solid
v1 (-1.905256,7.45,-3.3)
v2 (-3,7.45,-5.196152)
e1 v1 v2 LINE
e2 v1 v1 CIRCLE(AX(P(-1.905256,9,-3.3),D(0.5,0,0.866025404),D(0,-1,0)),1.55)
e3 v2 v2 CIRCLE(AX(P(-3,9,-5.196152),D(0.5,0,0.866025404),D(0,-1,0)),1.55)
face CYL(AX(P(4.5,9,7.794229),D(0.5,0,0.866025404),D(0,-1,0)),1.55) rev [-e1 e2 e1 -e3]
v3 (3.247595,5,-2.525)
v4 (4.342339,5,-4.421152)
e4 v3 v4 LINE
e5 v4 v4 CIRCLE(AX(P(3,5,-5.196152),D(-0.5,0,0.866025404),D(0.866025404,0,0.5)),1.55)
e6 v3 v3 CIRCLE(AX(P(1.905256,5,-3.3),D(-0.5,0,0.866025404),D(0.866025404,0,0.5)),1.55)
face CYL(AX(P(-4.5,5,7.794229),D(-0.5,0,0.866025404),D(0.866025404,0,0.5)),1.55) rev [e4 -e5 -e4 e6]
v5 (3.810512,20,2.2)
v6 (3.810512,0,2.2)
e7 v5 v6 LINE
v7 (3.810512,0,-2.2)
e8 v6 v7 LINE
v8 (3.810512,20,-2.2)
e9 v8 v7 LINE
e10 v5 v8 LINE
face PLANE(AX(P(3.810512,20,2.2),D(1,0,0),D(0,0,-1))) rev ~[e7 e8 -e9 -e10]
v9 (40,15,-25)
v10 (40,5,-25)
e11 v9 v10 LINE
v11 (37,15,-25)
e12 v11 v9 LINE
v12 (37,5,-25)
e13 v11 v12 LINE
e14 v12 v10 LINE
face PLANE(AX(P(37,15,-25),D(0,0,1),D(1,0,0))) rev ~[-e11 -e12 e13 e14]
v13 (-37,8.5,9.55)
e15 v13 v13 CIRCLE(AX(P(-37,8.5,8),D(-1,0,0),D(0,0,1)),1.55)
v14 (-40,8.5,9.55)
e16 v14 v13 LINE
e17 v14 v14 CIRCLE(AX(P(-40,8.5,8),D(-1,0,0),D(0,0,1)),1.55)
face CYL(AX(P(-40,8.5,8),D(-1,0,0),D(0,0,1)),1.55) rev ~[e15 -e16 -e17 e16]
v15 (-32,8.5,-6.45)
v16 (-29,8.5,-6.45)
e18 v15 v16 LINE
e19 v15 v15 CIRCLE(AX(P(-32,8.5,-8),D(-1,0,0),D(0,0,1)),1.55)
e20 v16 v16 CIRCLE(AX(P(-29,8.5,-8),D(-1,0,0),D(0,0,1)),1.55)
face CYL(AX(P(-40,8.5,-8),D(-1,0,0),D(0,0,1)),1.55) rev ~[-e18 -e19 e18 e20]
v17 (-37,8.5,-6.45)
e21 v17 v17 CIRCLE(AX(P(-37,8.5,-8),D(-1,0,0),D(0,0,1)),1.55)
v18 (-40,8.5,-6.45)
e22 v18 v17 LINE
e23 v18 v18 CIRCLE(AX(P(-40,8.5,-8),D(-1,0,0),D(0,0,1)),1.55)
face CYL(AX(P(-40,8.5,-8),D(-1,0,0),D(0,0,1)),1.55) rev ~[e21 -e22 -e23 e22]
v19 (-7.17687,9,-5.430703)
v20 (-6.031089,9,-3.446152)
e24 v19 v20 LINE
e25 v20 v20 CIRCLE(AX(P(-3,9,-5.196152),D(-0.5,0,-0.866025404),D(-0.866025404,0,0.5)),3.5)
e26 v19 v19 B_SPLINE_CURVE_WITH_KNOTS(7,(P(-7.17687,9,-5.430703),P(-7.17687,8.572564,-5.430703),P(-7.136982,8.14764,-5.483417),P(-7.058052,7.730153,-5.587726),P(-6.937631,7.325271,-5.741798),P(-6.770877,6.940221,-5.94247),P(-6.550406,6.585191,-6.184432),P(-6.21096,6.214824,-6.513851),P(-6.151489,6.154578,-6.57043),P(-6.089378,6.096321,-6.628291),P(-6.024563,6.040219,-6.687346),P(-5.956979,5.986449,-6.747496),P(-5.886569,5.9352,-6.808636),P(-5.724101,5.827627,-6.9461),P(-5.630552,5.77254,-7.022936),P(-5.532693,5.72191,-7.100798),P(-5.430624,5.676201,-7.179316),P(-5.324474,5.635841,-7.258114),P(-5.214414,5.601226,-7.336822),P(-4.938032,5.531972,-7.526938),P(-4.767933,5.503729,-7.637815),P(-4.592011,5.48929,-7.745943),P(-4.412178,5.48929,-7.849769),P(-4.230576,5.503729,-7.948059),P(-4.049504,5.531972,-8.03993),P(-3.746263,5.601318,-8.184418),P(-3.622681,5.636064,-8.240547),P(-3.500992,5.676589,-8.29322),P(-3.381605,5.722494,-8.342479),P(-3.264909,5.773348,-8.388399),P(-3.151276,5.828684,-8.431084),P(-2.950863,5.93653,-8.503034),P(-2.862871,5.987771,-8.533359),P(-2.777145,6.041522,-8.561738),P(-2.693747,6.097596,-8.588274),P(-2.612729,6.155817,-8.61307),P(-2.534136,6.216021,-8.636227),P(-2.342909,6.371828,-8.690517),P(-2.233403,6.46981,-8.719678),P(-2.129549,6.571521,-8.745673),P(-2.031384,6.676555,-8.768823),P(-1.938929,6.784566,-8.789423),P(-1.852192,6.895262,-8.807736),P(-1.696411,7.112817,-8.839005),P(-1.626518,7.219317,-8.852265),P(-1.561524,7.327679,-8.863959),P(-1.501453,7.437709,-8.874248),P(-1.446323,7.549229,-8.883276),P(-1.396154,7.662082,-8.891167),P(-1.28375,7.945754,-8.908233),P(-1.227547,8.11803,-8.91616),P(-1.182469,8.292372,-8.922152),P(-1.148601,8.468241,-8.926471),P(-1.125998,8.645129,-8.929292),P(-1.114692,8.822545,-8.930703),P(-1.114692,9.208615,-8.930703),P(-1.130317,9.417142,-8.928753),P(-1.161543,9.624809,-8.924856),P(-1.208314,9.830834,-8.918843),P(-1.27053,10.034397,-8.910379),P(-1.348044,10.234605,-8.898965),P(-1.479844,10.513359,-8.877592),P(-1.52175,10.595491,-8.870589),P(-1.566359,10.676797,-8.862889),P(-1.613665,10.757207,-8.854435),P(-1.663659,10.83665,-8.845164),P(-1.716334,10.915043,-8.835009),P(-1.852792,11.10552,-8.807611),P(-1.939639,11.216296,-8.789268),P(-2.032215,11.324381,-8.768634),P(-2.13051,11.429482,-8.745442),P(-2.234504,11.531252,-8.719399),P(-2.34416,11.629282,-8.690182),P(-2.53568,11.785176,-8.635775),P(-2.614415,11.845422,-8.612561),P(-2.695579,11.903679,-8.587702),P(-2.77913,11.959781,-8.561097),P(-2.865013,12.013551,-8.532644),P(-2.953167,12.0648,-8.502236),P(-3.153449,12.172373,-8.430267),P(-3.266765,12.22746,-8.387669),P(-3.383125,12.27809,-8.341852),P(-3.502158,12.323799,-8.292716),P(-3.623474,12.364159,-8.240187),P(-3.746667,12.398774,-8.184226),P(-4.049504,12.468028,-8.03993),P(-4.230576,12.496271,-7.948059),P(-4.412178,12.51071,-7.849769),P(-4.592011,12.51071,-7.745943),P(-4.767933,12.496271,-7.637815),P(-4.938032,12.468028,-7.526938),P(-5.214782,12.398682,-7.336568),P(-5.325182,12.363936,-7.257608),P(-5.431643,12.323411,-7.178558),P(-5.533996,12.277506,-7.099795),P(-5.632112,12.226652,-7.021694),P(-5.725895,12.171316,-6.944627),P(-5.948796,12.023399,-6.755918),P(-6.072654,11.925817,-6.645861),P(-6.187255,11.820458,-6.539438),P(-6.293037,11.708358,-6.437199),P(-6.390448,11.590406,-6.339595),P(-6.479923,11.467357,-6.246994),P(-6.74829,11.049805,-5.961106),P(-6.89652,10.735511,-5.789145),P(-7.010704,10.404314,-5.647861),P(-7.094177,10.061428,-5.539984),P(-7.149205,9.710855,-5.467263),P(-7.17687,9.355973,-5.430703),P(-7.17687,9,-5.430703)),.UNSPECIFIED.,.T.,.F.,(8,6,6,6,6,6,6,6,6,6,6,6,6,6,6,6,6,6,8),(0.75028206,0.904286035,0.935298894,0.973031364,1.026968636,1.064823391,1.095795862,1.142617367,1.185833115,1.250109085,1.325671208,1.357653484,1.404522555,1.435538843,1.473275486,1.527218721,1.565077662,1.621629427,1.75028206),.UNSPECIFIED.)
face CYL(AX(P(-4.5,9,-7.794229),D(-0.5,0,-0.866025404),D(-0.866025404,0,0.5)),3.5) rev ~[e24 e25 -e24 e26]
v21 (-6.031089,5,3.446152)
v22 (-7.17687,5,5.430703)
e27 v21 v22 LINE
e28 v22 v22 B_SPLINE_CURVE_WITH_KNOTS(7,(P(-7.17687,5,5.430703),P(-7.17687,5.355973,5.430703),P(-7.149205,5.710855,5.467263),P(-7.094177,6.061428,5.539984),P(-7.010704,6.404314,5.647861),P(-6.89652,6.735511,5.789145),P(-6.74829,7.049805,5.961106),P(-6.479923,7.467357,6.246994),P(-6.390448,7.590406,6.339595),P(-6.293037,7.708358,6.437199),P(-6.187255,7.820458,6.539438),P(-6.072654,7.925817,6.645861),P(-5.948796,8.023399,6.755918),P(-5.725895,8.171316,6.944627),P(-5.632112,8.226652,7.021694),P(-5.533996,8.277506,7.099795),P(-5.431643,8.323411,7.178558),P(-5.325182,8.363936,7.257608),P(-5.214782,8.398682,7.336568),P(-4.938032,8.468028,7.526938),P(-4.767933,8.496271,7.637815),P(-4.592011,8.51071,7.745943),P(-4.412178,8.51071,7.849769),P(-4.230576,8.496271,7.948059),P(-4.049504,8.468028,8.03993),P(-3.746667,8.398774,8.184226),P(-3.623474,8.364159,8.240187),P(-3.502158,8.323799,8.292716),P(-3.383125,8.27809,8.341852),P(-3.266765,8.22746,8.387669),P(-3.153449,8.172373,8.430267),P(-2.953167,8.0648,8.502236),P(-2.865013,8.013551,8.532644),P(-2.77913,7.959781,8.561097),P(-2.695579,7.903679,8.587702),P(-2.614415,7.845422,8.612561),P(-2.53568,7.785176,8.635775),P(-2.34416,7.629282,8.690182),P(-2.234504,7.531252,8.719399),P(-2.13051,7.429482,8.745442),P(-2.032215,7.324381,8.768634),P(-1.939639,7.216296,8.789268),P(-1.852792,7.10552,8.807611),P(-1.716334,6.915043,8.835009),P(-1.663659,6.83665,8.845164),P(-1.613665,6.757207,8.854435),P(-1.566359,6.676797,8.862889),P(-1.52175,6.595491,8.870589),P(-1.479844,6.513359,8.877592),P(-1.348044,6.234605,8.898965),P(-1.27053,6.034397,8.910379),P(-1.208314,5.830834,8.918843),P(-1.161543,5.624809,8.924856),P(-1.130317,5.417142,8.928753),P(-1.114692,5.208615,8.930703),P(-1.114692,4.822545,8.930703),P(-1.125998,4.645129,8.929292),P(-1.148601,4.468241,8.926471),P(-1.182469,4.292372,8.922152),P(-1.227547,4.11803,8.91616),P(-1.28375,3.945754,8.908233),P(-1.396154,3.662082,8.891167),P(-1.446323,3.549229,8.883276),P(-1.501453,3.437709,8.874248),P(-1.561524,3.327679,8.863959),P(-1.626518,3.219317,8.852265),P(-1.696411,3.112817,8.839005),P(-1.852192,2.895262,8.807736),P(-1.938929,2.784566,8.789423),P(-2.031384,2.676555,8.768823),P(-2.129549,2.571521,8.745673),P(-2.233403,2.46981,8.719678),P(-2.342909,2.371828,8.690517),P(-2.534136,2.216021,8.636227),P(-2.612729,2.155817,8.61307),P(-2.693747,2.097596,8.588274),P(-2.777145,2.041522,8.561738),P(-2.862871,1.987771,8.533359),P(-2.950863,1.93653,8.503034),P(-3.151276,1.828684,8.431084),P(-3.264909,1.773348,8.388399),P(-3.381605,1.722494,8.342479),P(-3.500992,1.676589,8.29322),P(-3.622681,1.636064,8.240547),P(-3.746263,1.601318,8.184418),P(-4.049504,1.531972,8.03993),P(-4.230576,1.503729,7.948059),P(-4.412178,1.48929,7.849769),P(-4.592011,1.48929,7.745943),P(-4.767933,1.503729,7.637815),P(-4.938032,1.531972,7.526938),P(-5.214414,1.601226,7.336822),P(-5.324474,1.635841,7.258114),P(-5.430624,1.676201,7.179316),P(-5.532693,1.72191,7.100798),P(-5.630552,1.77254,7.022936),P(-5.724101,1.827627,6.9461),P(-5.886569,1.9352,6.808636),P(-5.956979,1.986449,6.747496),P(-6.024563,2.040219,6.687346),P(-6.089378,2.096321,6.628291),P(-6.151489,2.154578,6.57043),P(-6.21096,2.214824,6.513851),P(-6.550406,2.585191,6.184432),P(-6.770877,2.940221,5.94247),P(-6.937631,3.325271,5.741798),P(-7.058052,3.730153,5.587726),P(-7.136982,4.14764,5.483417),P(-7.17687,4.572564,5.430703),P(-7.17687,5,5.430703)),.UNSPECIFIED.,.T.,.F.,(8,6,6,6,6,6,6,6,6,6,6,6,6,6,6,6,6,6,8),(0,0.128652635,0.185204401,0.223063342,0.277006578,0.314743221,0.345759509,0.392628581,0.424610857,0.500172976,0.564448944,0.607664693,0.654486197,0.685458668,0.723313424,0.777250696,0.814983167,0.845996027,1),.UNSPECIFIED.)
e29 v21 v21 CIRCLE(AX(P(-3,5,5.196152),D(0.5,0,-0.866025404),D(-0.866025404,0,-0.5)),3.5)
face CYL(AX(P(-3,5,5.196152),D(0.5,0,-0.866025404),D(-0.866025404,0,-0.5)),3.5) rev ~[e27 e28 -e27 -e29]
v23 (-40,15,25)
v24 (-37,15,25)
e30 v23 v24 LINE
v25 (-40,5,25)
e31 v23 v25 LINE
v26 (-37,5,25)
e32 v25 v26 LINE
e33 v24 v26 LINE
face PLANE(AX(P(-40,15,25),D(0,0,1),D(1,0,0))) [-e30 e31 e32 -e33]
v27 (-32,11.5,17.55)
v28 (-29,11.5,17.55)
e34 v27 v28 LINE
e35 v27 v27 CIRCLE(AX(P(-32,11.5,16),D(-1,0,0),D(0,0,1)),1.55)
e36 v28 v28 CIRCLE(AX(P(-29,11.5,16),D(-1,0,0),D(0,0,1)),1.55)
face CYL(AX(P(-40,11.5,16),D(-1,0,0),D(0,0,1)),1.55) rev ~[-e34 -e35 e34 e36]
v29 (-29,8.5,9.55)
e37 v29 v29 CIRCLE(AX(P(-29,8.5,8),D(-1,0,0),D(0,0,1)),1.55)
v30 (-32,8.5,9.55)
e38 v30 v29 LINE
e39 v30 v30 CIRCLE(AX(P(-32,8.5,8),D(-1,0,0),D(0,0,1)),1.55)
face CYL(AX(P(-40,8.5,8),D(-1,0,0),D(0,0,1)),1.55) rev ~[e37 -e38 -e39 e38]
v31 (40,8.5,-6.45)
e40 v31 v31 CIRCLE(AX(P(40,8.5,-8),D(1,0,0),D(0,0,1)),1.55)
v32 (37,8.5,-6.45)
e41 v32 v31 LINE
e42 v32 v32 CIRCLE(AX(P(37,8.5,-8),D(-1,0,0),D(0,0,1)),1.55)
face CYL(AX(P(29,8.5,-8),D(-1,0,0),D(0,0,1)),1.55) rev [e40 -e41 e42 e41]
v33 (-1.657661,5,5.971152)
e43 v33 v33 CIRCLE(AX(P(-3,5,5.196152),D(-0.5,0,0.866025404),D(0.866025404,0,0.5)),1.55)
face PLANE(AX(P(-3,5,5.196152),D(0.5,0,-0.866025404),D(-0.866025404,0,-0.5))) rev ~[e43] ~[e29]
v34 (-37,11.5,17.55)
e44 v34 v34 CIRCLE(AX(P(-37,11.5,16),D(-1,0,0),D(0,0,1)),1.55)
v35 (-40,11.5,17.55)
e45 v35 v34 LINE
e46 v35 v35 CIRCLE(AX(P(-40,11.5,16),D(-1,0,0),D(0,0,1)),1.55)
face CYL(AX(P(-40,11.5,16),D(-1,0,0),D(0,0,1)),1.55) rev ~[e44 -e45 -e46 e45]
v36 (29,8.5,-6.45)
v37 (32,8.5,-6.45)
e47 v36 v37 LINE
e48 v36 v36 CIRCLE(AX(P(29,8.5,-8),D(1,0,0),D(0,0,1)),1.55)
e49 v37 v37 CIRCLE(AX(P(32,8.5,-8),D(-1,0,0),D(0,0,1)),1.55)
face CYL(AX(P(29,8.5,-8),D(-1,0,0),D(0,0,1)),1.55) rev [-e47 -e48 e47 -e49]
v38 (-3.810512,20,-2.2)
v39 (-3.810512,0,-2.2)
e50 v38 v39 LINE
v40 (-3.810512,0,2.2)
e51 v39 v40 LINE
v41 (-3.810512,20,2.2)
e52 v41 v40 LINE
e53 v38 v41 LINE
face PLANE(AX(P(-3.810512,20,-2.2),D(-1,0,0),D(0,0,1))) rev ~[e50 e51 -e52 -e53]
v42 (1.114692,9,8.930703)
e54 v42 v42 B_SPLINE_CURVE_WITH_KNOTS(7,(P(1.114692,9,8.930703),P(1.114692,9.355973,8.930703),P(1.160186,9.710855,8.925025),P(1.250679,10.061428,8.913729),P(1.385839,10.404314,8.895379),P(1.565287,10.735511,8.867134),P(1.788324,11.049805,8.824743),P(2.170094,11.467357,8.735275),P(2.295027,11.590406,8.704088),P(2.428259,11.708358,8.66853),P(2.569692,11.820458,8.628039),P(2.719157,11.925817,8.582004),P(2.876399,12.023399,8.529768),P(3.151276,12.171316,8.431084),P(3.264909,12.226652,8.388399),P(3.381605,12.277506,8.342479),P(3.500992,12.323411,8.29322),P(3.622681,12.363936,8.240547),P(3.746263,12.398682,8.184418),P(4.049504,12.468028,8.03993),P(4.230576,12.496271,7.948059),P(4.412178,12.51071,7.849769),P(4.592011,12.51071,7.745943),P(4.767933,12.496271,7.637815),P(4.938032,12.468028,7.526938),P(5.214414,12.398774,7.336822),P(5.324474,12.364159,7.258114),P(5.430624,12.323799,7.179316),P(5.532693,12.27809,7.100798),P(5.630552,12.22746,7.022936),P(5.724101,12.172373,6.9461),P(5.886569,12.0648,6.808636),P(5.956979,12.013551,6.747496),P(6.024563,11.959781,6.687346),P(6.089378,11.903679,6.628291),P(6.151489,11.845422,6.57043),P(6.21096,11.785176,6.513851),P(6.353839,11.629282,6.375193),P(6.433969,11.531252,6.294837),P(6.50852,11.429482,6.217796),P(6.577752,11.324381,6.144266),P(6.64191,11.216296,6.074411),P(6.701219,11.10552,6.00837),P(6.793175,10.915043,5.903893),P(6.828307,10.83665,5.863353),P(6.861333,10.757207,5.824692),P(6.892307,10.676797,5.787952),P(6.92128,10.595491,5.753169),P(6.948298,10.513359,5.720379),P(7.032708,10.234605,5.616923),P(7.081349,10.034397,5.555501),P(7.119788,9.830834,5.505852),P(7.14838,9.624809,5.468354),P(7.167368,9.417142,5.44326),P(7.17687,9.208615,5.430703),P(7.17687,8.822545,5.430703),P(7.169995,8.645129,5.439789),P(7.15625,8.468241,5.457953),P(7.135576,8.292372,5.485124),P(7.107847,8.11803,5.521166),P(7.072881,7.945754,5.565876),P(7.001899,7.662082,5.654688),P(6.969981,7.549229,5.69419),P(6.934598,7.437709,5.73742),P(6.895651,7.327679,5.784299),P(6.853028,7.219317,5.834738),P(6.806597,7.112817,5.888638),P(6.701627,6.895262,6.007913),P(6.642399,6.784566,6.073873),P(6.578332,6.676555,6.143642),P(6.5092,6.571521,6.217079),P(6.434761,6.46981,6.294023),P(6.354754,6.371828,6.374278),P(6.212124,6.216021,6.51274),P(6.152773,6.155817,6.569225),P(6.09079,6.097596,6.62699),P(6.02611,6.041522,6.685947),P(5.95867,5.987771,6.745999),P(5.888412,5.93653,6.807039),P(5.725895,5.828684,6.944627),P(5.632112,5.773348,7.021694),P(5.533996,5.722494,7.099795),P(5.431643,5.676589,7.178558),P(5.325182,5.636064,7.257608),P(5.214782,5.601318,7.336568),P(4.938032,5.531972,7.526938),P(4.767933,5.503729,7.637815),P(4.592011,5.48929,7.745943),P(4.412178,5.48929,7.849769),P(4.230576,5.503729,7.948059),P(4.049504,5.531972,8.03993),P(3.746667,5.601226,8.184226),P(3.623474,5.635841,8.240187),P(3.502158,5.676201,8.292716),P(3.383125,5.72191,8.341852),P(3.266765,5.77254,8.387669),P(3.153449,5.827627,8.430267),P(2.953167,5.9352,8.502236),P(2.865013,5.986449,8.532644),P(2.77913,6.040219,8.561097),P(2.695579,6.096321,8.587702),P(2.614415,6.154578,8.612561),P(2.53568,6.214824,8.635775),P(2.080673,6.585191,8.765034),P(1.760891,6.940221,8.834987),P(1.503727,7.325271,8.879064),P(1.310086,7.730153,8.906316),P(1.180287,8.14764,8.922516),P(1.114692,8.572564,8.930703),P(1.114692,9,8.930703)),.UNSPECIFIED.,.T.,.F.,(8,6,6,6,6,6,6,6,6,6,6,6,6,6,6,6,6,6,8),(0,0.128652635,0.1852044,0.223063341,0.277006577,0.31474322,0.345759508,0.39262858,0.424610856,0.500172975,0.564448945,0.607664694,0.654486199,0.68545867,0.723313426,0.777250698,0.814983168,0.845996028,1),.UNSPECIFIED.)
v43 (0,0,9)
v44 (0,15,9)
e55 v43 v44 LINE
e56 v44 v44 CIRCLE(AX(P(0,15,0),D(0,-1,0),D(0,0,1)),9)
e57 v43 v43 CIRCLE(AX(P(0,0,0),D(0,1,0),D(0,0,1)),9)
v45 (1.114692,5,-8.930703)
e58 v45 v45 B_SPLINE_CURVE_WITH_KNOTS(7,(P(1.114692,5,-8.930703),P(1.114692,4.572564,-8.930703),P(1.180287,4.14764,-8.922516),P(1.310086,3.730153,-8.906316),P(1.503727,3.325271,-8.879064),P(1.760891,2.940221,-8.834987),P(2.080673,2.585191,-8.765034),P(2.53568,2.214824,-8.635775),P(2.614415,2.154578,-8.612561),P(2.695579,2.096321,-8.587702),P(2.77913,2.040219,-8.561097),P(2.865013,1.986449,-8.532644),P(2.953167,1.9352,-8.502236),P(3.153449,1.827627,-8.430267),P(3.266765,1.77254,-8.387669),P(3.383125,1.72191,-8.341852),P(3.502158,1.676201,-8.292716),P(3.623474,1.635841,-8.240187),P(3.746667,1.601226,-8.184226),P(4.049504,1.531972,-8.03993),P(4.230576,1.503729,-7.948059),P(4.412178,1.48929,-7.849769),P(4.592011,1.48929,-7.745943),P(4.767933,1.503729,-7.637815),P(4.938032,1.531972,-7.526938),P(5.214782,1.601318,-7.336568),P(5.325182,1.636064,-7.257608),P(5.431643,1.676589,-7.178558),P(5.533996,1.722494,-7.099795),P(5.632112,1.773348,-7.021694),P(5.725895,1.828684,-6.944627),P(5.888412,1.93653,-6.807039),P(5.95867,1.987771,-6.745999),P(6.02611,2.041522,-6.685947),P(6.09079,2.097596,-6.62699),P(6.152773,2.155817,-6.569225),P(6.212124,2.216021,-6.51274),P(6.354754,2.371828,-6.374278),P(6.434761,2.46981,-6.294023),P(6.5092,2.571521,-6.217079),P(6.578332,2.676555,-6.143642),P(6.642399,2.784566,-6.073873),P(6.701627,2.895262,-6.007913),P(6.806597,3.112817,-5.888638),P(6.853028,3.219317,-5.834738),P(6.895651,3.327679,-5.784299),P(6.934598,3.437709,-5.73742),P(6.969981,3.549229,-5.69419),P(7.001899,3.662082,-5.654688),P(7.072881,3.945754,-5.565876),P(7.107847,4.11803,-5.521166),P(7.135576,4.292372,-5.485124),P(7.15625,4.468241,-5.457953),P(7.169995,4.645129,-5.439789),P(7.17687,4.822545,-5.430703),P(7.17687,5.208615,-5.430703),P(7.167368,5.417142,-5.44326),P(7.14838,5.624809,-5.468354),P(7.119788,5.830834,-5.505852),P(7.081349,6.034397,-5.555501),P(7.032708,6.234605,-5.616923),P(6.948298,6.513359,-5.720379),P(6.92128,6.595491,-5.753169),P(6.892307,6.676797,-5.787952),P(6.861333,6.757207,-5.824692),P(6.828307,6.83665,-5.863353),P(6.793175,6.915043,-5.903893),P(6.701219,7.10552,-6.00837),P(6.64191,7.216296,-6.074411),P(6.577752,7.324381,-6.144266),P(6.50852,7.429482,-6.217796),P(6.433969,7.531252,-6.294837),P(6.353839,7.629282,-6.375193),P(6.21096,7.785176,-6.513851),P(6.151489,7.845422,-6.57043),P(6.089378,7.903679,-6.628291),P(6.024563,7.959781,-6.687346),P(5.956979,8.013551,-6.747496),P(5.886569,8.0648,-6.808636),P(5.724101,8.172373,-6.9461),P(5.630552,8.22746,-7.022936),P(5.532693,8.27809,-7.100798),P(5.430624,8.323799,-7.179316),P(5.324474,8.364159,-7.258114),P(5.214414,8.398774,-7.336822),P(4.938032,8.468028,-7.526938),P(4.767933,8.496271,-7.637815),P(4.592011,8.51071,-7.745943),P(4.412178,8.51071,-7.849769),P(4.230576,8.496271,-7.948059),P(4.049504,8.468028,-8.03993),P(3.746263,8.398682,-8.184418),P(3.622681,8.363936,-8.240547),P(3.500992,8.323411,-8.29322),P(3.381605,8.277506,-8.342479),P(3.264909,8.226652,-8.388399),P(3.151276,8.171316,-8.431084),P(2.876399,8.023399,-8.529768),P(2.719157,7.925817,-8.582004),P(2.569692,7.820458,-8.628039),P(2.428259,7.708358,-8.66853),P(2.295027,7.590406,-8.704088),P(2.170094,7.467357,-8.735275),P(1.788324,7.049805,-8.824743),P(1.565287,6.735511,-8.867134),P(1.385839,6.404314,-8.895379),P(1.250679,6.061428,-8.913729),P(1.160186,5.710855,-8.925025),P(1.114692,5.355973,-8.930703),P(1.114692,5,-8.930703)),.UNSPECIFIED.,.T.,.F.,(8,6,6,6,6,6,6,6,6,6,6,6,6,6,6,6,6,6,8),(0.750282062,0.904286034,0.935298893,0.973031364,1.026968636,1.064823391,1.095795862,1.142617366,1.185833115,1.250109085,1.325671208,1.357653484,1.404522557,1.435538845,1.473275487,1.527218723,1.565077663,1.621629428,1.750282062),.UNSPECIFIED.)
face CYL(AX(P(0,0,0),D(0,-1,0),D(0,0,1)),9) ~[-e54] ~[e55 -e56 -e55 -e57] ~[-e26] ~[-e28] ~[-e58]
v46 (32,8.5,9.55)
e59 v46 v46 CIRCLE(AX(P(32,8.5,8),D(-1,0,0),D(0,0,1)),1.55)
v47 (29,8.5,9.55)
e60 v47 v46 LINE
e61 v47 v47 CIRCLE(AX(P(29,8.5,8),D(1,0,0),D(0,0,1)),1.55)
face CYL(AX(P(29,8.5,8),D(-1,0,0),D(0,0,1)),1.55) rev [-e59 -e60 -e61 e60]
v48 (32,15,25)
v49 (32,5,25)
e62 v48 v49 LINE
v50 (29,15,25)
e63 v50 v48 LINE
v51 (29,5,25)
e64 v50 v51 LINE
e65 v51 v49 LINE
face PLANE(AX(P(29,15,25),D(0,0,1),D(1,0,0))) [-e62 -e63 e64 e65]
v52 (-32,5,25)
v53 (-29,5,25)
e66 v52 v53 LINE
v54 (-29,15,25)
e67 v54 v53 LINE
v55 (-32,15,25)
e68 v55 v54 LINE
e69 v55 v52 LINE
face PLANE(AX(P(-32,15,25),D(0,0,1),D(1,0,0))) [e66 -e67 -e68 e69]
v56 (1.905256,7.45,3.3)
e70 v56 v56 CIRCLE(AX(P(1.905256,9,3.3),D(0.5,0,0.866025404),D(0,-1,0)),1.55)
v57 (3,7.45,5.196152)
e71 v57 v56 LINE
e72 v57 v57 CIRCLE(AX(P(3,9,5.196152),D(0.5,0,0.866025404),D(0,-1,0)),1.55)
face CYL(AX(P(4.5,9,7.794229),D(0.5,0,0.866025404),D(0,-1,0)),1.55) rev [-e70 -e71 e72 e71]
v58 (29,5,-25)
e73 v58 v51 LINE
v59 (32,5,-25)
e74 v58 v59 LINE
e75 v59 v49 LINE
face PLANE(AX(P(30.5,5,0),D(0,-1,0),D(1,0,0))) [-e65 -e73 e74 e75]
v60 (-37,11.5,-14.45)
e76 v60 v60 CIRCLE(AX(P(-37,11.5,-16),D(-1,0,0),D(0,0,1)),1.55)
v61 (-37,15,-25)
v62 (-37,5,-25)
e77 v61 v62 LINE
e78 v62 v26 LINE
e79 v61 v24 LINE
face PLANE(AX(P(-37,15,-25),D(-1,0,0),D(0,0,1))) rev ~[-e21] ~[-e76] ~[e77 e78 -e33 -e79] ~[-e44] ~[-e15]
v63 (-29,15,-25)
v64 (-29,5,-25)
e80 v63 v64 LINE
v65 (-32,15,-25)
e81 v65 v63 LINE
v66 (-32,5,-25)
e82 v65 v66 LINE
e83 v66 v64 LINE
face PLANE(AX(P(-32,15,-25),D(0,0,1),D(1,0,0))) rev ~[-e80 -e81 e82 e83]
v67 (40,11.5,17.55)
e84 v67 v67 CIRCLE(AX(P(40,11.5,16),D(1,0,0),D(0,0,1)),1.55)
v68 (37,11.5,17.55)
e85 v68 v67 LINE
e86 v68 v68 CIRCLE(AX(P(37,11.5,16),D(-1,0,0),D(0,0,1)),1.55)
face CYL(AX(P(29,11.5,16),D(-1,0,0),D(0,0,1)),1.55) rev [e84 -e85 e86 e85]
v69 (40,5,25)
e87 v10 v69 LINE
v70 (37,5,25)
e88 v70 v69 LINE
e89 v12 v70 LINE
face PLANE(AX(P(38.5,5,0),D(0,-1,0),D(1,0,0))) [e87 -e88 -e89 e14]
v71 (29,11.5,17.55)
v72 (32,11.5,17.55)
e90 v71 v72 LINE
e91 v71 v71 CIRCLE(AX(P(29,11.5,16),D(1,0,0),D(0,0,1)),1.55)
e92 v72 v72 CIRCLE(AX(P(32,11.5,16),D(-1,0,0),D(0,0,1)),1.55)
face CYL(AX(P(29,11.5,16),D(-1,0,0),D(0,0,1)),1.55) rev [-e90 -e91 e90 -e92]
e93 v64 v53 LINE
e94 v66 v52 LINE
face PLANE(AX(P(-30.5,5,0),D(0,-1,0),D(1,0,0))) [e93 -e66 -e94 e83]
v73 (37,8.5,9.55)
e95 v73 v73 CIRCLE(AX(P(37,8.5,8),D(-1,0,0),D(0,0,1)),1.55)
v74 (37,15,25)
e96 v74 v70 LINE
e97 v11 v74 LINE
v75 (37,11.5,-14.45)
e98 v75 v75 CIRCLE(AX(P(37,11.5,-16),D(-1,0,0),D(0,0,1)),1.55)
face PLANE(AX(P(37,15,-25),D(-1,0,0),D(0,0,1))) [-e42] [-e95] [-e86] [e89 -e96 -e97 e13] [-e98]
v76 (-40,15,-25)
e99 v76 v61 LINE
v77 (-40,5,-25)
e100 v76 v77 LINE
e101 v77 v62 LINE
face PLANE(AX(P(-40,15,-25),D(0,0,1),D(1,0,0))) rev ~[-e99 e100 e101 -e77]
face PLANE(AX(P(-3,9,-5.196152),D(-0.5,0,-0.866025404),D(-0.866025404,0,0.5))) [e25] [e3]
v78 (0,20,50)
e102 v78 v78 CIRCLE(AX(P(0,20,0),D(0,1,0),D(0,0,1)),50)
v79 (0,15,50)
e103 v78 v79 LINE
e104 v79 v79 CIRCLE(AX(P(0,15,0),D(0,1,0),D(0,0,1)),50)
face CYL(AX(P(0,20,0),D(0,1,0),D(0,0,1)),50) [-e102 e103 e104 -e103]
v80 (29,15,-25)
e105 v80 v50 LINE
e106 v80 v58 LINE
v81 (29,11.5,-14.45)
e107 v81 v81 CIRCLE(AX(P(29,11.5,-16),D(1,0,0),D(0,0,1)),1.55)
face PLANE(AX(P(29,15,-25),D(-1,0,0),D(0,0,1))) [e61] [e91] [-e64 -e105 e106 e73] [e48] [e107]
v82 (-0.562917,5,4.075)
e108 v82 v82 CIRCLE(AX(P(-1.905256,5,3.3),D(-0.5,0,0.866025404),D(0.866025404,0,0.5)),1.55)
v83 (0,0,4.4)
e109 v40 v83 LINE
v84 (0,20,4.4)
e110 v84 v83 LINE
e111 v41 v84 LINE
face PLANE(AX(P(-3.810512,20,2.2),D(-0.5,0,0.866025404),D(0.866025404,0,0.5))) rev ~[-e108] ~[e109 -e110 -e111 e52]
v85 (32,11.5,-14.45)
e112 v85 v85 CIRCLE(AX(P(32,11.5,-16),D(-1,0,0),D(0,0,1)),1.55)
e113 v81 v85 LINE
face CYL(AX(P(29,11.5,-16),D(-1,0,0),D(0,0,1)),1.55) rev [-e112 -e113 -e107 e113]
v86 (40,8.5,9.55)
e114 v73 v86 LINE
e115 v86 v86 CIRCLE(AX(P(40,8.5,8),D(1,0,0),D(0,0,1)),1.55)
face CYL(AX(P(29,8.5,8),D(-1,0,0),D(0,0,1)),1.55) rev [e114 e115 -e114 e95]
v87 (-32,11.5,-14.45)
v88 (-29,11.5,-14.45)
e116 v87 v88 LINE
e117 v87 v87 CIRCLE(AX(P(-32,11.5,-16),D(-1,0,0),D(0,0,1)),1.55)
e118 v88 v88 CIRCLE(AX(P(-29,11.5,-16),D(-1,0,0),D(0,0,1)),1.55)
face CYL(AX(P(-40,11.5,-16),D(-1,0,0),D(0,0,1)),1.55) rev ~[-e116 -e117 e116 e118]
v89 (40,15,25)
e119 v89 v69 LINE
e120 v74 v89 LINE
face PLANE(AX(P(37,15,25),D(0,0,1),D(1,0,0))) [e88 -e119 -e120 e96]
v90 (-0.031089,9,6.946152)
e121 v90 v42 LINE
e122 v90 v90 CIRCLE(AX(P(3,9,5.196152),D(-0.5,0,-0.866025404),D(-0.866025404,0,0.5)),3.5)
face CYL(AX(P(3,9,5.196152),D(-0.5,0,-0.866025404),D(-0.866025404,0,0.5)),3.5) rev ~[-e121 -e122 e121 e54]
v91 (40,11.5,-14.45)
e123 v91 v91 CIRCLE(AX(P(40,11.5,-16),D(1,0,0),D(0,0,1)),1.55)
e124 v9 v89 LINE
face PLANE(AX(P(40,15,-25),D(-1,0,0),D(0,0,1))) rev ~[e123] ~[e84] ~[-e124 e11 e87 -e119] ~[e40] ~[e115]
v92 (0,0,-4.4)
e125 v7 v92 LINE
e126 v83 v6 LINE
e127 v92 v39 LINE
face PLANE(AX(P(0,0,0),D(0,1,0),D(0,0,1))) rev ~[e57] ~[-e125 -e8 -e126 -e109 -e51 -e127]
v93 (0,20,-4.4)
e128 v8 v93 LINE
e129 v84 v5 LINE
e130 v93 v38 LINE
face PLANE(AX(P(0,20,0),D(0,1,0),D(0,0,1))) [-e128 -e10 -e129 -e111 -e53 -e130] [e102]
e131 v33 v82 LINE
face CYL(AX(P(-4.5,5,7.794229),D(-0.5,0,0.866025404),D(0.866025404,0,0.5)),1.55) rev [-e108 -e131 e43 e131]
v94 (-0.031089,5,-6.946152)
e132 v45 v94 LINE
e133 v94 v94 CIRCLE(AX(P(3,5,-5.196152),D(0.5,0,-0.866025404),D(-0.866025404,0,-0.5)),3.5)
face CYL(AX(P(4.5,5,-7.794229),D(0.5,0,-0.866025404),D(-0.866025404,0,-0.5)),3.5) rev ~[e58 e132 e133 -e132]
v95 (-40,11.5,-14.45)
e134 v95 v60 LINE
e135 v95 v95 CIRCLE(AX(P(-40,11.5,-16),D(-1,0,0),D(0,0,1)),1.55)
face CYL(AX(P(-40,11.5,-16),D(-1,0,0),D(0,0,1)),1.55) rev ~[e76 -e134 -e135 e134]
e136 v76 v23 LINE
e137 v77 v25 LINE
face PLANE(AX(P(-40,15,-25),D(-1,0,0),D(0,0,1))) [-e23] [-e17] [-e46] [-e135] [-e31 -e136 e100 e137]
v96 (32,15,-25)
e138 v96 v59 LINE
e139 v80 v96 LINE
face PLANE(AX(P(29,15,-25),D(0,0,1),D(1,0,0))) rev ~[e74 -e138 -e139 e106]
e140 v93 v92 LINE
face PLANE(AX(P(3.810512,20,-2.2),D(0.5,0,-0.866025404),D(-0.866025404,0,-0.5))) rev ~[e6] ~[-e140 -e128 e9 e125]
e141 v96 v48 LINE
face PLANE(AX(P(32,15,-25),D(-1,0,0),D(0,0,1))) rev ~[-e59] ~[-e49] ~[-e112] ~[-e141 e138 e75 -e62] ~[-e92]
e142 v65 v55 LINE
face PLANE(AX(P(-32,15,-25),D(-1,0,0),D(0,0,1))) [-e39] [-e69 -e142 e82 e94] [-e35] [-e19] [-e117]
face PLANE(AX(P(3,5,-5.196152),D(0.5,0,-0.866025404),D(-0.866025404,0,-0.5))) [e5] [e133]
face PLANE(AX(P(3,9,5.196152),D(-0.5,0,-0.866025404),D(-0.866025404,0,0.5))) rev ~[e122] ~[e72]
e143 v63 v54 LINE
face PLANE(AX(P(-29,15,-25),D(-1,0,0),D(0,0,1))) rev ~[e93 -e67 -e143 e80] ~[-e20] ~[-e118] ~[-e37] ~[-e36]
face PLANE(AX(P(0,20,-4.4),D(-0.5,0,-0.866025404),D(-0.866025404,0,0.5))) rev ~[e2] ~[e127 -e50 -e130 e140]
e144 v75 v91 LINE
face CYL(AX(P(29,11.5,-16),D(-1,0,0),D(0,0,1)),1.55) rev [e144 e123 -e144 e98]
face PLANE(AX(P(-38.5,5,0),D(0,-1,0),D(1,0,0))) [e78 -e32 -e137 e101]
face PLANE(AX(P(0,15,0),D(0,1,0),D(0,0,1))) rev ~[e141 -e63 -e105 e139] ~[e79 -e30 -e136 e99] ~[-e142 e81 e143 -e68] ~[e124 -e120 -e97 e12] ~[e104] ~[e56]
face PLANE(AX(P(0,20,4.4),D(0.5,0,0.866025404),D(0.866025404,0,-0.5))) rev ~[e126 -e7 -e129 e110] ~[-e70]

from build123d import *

# Parameters (mm, degrees)
SKETCH2_R               = 9
BOSS_EXTRUDE1_DEPTH     = 20
CUT_EXTRUDE1_DEPTH      = 20
SKETCH4_R               = 50
SKETCH4_R_2             = 4.5
BOSS_EXTRUDE3_DEPTH     = 5
CUT_EXTRUDE2_DEPTH      = 9
CUT_EXTRUDE2_DEPTH_BACK = 9
SKETCH11_R              = 1.55
CUT_EXTRUDE9_DEPTH      = 9
CUT_EXTRUDE9_DEPTH_BACK = 9
SKETCH15_R              = 1.55
SKETCH16_W              = 3
SKETCH16_H              = 50
BOSS_EXTRUDE4_DEPTH     = 10
CUT_EXTRUDE10_REACH     = 106.881
SKETCH17_R              = 1.55
CUT_EXTRUDE11_START     = -11
SKETCH18_R              = 1.55
CUT_EXTRUDE11_DEPTH     = 11
CUT_EXTRUDE14_START     = 9
SKETCH19_R              = 3.5
CUT_EXTRUDE14_DEPTH     = 3
CUT_EXTRUDE15_START     = -6
SKETCH19_3_R            = 3.5
CUT_EXTRUDE15_DEPTH     = 3
CUT_EXTRUDE16_START     = 9
SKETCH20_R              = 3.5
CUT_EXTRUDE16_DEPTH     = 3
CUT_EXTRUDE17_START     = -6
SKETCH20_2_R            = 3.5
CUT_EXTRUDE17_DEPTH     = 3


with BuildPart() as part:
    # Sketch2 → Boss-Extrude1 (new body)
    with BuildSketch(Plane(origin=(0, 0, 0), x_dir=(1, 0, 0), z_dir=(0, 1, 0))):
        with Locations(Location((0, 0, 0), (0, 0, 270))):
            Circle(SKETCH2_R)
    extrude(amount=BOSS_EXTRUDE1_DEPTH)

    # Sketch3 → Cut-Extrude1 (cut)
    with BuildSketch(Plane(origin=(0, 20, 0), x_dir=(1, 0, 0), z_dir=(0, 1, 0))):
        Polygon((0, 4.4), (-3.810511777, 2.2), (-3.810511777, -2.2), (0, -4.4), (3.810511777, -2.2), (3.810511777, 2.2), align=None)
    extrude(amount=-CUT_EXTRUDE1_DEPTH, mode=Mode.SUBTRACT)

    # Sketch4 → Boss-Extrude3 (add)
    with BuildSketch(Plane(origin=(0, 20, 0), x_dir=(1, 0, 0), z_dir=(0, 1, 0))):
        with Locations(Location((0, 0, 0), (0, 0, 270))):
            Circle(SKETCH4_R)
        Circle(SKETCH4_R_2, mode=Mode.SUBTRACT)
    extrude(amount=-BOSS_EXTRUDE3_DEPTH)

    # Sketch11 → Cut-Extrude2 (cut, two sides: drawn at the far end of the back side and taken through both)
    with BuildSketch(Plane(origin=(0, 0, 0), x_dir=(-0.8660254037844387, 0, -0.49999999999999983), z_dir=(0.49999999999999983, 0, -0.8660254037844387)).offset(-CUT_EXTRUDE2_DEPTH_BACK)):
        with Locations(Location((0, 5, 0), (0, 0, 180))):
            Circle(SKETCH11_R)
    extrude(amount=CUT_EXTRUDE2_DEPTH + CUT_EXTRUDE2_DEPTH_BACK, mode=Mode.SUBTRACT)

    # Sketch15 → Cut-Extrude9 (cut, two sides: drawn at the far end of the back side and taken through both)
    with BuildSketch(Plane(origin=(0, 0, 0), x_dir=(-0.866025403784439, 0, 0.49999999999999944), z_dir=(-0.49999999999999944, 0, -0.866025403784439)).offset(-CUT_EXTRUDE9_DEPTH_BACK)):
        with Locations(Location((0, 9, 0), (0, 0, 270))):
            Circle(SKETCH15_R)
    extrude(amount=CUT_EXTRUDE9_DEPTH + CUT_EXTRUDE9_DEPTH_BACK, mode=Mode.SUBTRACT)

    # Sketch16 → Boss-Extrude4 (add)
    with BuildSketch(Plane.XZ.offset(-15)):
        with Locations((-30.5, 0)):
            Rectangle(SKETCH16_W, SKETCH16_H)
        with Locations((-38.5, 0)):
            Rectangle(SKETCH16_W, SKETCH16_H)
        with Locations((30.5, 0)):
            Rectangle(SKETCH16_W, SKETCH16_H)
        with Locations((38.5, 0)):
            Rectangle(SKETCH16_W, SKETCH16_H)
    extrude(amount=BOSS_EXTRUDE4_DEPTH)

    # Cut-Extrude10: up to this face of the body (flat: up to its plane)
    cut_extrude10_end = Plane(part.part.faces().sort_by_distance((-29, 10, 0))[0])
    # Sketch17 → Cut-Extrude10 (cut, up to the picked face)
    with BuildSketch(Plane.ZY.offset(40), mode=Mode.PRIVATE) as cut_extrude10_sk1:
        with Locations((-16, 11.5)):
            Circle(SKETCH17_R)
    cut_extrude10_tool1 = split(extrude(cut_extrude10_sk1.sketch, amount=-CUT_EXTRUDE10_REACH, mode=Mode.PRIVATE), bisect_by=cut_extrude10_end, keep=Keep.BOTH, mode=Mode.PRIVATE)
    # Sketch17 → Cut-Extrude10 (cut, up to the picked face)
    with BuildSketch(Plane.ZY.offset(40), mode=Mode.PRIVATE) as cut_extrude10_sk2:
        with Locations((-8, 8.5)):
            Circle(SKETCH17_R)
    cut_extrude10_tool2 = split(extrude(cut_extrude10_sk2.sketch, amount=-CUT_EXTRUDE10_REACH, mode=Mode.PRIVATE), bisect_by=cut_extrude10_end, keep=Keep.BOTH, mode=Mode.PRIVATE)
    # Sketch17 → Cut-Extrude10 (cut, up to the picked face)
    with BuildSketch(Plane.ZY.offset(40), mode=Mode.PRIVATE) as cut_extrude10_sk3:
        with Locations((8, 8.5)):
            Circle(SKETCH17_R)
    cut_extrude10_tool3 = split(extrude(cut_extrude10_sk3.sketch, amount=-CUT_EXTRUDE10_REACH, mode=Mode.PRIVATE), bisect_by=cut_extrude10_end, keep=Keep.BOTH, mode=Mode.PRIVATE)
    # Sketch17 → Cut-Extrude10 (cut, up to the picked face)
    with BuildSketch(Plane.ZY.offset(40), mode=Mode.PRIVATE) as cut_extrude10_sk4:
        with Locations((16, 11.5)):
            Circle(SKETCH17_R)
    cut_extrude10_tool4 = split(extrude(cut_extrude10_sk4.sketch, amount=-CUT_EXTRUDE10_REACH, mode=Mode.PRIVATE), bisect_by=cut_extrude10_end, keep=Keep.BOTH, mode=Mode.PRIVATE)
    add(cut_extrude10_tool1.solids().sort_by(Axis((-40, 11.5, -16), (1, 0, 0)))[0], mode=Mode.SUBTRACT)
    add(cut_extrude10_tool2.solids().sort_by(Axis((-40, 8.5, -8), (1, 0, 0)))[0], mode=Mode.SUBTRACT)
    add(cut_extrude10_tool3.solids().sort_by(Axis((-40, 8.5, 8), (1, 0, 0)))[0], mode=Mode.SUBTRACT)
    add(cut_extrude10_tool4.solids().sort_by(Axis((-40, 11.5, 16), (1, 0, 0)))[0], mode=Mode.SUBTRACT)

    # Sketch18 → Cut-Extrude11 (cut)
    with BuildSketch(Plane(origin=(40, 0, 0), x_dir=(0, 0, -1), z_dir=(1, 0, 0)).offset(CUT_EXTRUDE11_START)):
        with Locations(Location((-8, 8.5, 0), (0, 0, 180))):
            Circle(SKETCH18_R)
        with Locations(Location((8, 8.5, 0), (0, 0, 180))):
            Circle(SKETCH18_R)
        with Locations(Location((16, 11.5, 0), (0, 0, 180))):
            Circle(SKETCH18_R)
        with Locations(Location((-16, 11.5, 0), (0, 0, 180))):
            Circle(SKETCH18_R)
    extrude(amount=CUT_EXTRUDE11_DEPTH, mode=Mode.SUBTRACT)

    # Sketch19 → Cut-Extrude14 (cut)
    with BuildSketch(Plane(origin=(0, 0, 0), x_dir=(-0.866025403784439, 0, 0.49999999999999944), z_dir=(-0.49999999999999944, 0, -0.866025403784439)).offset(CUT_EXTRUDE14_START)):
        with Locations((0, 9)):
            Circle(SKETCH19_R)
    extrude(amount=-CUT_EXTRUDE14_DEPTH, mode=Mode.SUBTRACT)

    # Sketch19<3> → Cut-Extrude15 (cut)
    with BuildSketch(Plane(origin=(0, 0, 0), x_dir=(-0.866025403784439, 0, 0.49999999999999944), z_dir=(-0.49999999999999944, 0, -0.866025403784439)).offset(CUT_EXTRUDE15_START)):
        with Locations((0, 9)):
            Circle(SKETCH19_3_R)
    extrude(amount=-CUT_EXTRUDE15_DEPTH, mode=Mode.SUBTRACT)

    # Sketch20 → Cut-Extrude16 (cut)
    with BuildSketch(Plane(origin=(0, 0, 0), x_dir=(-0.8660254037844387, 0, -0.49999999999999983), z_dir=(0.49999999999999983, 0, -0.8660254037844387)).offset(CUT_EXTRUDE16_START)):
        with Locations((0, 5)):
            Circle(SKETCH20_R)
    extrude(amount=-CUT_EXTRUDE16_DEPTH, mode=Mode.SUBTRACT)

    # Sketch20<2> → Cut-Extrude17 (cut)
    with BuildSketch(Plane(origin=(0, 0, 0), x_dir=(-0.8660254037844387, 0, -0.49999999999999983), z_dir=(0.49999999999999983, 0, -0.8660254037844387)).offset(CUT_EXTRUDE17_START)):
        with Locations((0, 5)):
            Circle(SKETCH20_2_R)
    extrude(amount=-CUT_EXTRUDE17_DEPTH, mode=Mode.SUBTRACT)


solid = part.part
